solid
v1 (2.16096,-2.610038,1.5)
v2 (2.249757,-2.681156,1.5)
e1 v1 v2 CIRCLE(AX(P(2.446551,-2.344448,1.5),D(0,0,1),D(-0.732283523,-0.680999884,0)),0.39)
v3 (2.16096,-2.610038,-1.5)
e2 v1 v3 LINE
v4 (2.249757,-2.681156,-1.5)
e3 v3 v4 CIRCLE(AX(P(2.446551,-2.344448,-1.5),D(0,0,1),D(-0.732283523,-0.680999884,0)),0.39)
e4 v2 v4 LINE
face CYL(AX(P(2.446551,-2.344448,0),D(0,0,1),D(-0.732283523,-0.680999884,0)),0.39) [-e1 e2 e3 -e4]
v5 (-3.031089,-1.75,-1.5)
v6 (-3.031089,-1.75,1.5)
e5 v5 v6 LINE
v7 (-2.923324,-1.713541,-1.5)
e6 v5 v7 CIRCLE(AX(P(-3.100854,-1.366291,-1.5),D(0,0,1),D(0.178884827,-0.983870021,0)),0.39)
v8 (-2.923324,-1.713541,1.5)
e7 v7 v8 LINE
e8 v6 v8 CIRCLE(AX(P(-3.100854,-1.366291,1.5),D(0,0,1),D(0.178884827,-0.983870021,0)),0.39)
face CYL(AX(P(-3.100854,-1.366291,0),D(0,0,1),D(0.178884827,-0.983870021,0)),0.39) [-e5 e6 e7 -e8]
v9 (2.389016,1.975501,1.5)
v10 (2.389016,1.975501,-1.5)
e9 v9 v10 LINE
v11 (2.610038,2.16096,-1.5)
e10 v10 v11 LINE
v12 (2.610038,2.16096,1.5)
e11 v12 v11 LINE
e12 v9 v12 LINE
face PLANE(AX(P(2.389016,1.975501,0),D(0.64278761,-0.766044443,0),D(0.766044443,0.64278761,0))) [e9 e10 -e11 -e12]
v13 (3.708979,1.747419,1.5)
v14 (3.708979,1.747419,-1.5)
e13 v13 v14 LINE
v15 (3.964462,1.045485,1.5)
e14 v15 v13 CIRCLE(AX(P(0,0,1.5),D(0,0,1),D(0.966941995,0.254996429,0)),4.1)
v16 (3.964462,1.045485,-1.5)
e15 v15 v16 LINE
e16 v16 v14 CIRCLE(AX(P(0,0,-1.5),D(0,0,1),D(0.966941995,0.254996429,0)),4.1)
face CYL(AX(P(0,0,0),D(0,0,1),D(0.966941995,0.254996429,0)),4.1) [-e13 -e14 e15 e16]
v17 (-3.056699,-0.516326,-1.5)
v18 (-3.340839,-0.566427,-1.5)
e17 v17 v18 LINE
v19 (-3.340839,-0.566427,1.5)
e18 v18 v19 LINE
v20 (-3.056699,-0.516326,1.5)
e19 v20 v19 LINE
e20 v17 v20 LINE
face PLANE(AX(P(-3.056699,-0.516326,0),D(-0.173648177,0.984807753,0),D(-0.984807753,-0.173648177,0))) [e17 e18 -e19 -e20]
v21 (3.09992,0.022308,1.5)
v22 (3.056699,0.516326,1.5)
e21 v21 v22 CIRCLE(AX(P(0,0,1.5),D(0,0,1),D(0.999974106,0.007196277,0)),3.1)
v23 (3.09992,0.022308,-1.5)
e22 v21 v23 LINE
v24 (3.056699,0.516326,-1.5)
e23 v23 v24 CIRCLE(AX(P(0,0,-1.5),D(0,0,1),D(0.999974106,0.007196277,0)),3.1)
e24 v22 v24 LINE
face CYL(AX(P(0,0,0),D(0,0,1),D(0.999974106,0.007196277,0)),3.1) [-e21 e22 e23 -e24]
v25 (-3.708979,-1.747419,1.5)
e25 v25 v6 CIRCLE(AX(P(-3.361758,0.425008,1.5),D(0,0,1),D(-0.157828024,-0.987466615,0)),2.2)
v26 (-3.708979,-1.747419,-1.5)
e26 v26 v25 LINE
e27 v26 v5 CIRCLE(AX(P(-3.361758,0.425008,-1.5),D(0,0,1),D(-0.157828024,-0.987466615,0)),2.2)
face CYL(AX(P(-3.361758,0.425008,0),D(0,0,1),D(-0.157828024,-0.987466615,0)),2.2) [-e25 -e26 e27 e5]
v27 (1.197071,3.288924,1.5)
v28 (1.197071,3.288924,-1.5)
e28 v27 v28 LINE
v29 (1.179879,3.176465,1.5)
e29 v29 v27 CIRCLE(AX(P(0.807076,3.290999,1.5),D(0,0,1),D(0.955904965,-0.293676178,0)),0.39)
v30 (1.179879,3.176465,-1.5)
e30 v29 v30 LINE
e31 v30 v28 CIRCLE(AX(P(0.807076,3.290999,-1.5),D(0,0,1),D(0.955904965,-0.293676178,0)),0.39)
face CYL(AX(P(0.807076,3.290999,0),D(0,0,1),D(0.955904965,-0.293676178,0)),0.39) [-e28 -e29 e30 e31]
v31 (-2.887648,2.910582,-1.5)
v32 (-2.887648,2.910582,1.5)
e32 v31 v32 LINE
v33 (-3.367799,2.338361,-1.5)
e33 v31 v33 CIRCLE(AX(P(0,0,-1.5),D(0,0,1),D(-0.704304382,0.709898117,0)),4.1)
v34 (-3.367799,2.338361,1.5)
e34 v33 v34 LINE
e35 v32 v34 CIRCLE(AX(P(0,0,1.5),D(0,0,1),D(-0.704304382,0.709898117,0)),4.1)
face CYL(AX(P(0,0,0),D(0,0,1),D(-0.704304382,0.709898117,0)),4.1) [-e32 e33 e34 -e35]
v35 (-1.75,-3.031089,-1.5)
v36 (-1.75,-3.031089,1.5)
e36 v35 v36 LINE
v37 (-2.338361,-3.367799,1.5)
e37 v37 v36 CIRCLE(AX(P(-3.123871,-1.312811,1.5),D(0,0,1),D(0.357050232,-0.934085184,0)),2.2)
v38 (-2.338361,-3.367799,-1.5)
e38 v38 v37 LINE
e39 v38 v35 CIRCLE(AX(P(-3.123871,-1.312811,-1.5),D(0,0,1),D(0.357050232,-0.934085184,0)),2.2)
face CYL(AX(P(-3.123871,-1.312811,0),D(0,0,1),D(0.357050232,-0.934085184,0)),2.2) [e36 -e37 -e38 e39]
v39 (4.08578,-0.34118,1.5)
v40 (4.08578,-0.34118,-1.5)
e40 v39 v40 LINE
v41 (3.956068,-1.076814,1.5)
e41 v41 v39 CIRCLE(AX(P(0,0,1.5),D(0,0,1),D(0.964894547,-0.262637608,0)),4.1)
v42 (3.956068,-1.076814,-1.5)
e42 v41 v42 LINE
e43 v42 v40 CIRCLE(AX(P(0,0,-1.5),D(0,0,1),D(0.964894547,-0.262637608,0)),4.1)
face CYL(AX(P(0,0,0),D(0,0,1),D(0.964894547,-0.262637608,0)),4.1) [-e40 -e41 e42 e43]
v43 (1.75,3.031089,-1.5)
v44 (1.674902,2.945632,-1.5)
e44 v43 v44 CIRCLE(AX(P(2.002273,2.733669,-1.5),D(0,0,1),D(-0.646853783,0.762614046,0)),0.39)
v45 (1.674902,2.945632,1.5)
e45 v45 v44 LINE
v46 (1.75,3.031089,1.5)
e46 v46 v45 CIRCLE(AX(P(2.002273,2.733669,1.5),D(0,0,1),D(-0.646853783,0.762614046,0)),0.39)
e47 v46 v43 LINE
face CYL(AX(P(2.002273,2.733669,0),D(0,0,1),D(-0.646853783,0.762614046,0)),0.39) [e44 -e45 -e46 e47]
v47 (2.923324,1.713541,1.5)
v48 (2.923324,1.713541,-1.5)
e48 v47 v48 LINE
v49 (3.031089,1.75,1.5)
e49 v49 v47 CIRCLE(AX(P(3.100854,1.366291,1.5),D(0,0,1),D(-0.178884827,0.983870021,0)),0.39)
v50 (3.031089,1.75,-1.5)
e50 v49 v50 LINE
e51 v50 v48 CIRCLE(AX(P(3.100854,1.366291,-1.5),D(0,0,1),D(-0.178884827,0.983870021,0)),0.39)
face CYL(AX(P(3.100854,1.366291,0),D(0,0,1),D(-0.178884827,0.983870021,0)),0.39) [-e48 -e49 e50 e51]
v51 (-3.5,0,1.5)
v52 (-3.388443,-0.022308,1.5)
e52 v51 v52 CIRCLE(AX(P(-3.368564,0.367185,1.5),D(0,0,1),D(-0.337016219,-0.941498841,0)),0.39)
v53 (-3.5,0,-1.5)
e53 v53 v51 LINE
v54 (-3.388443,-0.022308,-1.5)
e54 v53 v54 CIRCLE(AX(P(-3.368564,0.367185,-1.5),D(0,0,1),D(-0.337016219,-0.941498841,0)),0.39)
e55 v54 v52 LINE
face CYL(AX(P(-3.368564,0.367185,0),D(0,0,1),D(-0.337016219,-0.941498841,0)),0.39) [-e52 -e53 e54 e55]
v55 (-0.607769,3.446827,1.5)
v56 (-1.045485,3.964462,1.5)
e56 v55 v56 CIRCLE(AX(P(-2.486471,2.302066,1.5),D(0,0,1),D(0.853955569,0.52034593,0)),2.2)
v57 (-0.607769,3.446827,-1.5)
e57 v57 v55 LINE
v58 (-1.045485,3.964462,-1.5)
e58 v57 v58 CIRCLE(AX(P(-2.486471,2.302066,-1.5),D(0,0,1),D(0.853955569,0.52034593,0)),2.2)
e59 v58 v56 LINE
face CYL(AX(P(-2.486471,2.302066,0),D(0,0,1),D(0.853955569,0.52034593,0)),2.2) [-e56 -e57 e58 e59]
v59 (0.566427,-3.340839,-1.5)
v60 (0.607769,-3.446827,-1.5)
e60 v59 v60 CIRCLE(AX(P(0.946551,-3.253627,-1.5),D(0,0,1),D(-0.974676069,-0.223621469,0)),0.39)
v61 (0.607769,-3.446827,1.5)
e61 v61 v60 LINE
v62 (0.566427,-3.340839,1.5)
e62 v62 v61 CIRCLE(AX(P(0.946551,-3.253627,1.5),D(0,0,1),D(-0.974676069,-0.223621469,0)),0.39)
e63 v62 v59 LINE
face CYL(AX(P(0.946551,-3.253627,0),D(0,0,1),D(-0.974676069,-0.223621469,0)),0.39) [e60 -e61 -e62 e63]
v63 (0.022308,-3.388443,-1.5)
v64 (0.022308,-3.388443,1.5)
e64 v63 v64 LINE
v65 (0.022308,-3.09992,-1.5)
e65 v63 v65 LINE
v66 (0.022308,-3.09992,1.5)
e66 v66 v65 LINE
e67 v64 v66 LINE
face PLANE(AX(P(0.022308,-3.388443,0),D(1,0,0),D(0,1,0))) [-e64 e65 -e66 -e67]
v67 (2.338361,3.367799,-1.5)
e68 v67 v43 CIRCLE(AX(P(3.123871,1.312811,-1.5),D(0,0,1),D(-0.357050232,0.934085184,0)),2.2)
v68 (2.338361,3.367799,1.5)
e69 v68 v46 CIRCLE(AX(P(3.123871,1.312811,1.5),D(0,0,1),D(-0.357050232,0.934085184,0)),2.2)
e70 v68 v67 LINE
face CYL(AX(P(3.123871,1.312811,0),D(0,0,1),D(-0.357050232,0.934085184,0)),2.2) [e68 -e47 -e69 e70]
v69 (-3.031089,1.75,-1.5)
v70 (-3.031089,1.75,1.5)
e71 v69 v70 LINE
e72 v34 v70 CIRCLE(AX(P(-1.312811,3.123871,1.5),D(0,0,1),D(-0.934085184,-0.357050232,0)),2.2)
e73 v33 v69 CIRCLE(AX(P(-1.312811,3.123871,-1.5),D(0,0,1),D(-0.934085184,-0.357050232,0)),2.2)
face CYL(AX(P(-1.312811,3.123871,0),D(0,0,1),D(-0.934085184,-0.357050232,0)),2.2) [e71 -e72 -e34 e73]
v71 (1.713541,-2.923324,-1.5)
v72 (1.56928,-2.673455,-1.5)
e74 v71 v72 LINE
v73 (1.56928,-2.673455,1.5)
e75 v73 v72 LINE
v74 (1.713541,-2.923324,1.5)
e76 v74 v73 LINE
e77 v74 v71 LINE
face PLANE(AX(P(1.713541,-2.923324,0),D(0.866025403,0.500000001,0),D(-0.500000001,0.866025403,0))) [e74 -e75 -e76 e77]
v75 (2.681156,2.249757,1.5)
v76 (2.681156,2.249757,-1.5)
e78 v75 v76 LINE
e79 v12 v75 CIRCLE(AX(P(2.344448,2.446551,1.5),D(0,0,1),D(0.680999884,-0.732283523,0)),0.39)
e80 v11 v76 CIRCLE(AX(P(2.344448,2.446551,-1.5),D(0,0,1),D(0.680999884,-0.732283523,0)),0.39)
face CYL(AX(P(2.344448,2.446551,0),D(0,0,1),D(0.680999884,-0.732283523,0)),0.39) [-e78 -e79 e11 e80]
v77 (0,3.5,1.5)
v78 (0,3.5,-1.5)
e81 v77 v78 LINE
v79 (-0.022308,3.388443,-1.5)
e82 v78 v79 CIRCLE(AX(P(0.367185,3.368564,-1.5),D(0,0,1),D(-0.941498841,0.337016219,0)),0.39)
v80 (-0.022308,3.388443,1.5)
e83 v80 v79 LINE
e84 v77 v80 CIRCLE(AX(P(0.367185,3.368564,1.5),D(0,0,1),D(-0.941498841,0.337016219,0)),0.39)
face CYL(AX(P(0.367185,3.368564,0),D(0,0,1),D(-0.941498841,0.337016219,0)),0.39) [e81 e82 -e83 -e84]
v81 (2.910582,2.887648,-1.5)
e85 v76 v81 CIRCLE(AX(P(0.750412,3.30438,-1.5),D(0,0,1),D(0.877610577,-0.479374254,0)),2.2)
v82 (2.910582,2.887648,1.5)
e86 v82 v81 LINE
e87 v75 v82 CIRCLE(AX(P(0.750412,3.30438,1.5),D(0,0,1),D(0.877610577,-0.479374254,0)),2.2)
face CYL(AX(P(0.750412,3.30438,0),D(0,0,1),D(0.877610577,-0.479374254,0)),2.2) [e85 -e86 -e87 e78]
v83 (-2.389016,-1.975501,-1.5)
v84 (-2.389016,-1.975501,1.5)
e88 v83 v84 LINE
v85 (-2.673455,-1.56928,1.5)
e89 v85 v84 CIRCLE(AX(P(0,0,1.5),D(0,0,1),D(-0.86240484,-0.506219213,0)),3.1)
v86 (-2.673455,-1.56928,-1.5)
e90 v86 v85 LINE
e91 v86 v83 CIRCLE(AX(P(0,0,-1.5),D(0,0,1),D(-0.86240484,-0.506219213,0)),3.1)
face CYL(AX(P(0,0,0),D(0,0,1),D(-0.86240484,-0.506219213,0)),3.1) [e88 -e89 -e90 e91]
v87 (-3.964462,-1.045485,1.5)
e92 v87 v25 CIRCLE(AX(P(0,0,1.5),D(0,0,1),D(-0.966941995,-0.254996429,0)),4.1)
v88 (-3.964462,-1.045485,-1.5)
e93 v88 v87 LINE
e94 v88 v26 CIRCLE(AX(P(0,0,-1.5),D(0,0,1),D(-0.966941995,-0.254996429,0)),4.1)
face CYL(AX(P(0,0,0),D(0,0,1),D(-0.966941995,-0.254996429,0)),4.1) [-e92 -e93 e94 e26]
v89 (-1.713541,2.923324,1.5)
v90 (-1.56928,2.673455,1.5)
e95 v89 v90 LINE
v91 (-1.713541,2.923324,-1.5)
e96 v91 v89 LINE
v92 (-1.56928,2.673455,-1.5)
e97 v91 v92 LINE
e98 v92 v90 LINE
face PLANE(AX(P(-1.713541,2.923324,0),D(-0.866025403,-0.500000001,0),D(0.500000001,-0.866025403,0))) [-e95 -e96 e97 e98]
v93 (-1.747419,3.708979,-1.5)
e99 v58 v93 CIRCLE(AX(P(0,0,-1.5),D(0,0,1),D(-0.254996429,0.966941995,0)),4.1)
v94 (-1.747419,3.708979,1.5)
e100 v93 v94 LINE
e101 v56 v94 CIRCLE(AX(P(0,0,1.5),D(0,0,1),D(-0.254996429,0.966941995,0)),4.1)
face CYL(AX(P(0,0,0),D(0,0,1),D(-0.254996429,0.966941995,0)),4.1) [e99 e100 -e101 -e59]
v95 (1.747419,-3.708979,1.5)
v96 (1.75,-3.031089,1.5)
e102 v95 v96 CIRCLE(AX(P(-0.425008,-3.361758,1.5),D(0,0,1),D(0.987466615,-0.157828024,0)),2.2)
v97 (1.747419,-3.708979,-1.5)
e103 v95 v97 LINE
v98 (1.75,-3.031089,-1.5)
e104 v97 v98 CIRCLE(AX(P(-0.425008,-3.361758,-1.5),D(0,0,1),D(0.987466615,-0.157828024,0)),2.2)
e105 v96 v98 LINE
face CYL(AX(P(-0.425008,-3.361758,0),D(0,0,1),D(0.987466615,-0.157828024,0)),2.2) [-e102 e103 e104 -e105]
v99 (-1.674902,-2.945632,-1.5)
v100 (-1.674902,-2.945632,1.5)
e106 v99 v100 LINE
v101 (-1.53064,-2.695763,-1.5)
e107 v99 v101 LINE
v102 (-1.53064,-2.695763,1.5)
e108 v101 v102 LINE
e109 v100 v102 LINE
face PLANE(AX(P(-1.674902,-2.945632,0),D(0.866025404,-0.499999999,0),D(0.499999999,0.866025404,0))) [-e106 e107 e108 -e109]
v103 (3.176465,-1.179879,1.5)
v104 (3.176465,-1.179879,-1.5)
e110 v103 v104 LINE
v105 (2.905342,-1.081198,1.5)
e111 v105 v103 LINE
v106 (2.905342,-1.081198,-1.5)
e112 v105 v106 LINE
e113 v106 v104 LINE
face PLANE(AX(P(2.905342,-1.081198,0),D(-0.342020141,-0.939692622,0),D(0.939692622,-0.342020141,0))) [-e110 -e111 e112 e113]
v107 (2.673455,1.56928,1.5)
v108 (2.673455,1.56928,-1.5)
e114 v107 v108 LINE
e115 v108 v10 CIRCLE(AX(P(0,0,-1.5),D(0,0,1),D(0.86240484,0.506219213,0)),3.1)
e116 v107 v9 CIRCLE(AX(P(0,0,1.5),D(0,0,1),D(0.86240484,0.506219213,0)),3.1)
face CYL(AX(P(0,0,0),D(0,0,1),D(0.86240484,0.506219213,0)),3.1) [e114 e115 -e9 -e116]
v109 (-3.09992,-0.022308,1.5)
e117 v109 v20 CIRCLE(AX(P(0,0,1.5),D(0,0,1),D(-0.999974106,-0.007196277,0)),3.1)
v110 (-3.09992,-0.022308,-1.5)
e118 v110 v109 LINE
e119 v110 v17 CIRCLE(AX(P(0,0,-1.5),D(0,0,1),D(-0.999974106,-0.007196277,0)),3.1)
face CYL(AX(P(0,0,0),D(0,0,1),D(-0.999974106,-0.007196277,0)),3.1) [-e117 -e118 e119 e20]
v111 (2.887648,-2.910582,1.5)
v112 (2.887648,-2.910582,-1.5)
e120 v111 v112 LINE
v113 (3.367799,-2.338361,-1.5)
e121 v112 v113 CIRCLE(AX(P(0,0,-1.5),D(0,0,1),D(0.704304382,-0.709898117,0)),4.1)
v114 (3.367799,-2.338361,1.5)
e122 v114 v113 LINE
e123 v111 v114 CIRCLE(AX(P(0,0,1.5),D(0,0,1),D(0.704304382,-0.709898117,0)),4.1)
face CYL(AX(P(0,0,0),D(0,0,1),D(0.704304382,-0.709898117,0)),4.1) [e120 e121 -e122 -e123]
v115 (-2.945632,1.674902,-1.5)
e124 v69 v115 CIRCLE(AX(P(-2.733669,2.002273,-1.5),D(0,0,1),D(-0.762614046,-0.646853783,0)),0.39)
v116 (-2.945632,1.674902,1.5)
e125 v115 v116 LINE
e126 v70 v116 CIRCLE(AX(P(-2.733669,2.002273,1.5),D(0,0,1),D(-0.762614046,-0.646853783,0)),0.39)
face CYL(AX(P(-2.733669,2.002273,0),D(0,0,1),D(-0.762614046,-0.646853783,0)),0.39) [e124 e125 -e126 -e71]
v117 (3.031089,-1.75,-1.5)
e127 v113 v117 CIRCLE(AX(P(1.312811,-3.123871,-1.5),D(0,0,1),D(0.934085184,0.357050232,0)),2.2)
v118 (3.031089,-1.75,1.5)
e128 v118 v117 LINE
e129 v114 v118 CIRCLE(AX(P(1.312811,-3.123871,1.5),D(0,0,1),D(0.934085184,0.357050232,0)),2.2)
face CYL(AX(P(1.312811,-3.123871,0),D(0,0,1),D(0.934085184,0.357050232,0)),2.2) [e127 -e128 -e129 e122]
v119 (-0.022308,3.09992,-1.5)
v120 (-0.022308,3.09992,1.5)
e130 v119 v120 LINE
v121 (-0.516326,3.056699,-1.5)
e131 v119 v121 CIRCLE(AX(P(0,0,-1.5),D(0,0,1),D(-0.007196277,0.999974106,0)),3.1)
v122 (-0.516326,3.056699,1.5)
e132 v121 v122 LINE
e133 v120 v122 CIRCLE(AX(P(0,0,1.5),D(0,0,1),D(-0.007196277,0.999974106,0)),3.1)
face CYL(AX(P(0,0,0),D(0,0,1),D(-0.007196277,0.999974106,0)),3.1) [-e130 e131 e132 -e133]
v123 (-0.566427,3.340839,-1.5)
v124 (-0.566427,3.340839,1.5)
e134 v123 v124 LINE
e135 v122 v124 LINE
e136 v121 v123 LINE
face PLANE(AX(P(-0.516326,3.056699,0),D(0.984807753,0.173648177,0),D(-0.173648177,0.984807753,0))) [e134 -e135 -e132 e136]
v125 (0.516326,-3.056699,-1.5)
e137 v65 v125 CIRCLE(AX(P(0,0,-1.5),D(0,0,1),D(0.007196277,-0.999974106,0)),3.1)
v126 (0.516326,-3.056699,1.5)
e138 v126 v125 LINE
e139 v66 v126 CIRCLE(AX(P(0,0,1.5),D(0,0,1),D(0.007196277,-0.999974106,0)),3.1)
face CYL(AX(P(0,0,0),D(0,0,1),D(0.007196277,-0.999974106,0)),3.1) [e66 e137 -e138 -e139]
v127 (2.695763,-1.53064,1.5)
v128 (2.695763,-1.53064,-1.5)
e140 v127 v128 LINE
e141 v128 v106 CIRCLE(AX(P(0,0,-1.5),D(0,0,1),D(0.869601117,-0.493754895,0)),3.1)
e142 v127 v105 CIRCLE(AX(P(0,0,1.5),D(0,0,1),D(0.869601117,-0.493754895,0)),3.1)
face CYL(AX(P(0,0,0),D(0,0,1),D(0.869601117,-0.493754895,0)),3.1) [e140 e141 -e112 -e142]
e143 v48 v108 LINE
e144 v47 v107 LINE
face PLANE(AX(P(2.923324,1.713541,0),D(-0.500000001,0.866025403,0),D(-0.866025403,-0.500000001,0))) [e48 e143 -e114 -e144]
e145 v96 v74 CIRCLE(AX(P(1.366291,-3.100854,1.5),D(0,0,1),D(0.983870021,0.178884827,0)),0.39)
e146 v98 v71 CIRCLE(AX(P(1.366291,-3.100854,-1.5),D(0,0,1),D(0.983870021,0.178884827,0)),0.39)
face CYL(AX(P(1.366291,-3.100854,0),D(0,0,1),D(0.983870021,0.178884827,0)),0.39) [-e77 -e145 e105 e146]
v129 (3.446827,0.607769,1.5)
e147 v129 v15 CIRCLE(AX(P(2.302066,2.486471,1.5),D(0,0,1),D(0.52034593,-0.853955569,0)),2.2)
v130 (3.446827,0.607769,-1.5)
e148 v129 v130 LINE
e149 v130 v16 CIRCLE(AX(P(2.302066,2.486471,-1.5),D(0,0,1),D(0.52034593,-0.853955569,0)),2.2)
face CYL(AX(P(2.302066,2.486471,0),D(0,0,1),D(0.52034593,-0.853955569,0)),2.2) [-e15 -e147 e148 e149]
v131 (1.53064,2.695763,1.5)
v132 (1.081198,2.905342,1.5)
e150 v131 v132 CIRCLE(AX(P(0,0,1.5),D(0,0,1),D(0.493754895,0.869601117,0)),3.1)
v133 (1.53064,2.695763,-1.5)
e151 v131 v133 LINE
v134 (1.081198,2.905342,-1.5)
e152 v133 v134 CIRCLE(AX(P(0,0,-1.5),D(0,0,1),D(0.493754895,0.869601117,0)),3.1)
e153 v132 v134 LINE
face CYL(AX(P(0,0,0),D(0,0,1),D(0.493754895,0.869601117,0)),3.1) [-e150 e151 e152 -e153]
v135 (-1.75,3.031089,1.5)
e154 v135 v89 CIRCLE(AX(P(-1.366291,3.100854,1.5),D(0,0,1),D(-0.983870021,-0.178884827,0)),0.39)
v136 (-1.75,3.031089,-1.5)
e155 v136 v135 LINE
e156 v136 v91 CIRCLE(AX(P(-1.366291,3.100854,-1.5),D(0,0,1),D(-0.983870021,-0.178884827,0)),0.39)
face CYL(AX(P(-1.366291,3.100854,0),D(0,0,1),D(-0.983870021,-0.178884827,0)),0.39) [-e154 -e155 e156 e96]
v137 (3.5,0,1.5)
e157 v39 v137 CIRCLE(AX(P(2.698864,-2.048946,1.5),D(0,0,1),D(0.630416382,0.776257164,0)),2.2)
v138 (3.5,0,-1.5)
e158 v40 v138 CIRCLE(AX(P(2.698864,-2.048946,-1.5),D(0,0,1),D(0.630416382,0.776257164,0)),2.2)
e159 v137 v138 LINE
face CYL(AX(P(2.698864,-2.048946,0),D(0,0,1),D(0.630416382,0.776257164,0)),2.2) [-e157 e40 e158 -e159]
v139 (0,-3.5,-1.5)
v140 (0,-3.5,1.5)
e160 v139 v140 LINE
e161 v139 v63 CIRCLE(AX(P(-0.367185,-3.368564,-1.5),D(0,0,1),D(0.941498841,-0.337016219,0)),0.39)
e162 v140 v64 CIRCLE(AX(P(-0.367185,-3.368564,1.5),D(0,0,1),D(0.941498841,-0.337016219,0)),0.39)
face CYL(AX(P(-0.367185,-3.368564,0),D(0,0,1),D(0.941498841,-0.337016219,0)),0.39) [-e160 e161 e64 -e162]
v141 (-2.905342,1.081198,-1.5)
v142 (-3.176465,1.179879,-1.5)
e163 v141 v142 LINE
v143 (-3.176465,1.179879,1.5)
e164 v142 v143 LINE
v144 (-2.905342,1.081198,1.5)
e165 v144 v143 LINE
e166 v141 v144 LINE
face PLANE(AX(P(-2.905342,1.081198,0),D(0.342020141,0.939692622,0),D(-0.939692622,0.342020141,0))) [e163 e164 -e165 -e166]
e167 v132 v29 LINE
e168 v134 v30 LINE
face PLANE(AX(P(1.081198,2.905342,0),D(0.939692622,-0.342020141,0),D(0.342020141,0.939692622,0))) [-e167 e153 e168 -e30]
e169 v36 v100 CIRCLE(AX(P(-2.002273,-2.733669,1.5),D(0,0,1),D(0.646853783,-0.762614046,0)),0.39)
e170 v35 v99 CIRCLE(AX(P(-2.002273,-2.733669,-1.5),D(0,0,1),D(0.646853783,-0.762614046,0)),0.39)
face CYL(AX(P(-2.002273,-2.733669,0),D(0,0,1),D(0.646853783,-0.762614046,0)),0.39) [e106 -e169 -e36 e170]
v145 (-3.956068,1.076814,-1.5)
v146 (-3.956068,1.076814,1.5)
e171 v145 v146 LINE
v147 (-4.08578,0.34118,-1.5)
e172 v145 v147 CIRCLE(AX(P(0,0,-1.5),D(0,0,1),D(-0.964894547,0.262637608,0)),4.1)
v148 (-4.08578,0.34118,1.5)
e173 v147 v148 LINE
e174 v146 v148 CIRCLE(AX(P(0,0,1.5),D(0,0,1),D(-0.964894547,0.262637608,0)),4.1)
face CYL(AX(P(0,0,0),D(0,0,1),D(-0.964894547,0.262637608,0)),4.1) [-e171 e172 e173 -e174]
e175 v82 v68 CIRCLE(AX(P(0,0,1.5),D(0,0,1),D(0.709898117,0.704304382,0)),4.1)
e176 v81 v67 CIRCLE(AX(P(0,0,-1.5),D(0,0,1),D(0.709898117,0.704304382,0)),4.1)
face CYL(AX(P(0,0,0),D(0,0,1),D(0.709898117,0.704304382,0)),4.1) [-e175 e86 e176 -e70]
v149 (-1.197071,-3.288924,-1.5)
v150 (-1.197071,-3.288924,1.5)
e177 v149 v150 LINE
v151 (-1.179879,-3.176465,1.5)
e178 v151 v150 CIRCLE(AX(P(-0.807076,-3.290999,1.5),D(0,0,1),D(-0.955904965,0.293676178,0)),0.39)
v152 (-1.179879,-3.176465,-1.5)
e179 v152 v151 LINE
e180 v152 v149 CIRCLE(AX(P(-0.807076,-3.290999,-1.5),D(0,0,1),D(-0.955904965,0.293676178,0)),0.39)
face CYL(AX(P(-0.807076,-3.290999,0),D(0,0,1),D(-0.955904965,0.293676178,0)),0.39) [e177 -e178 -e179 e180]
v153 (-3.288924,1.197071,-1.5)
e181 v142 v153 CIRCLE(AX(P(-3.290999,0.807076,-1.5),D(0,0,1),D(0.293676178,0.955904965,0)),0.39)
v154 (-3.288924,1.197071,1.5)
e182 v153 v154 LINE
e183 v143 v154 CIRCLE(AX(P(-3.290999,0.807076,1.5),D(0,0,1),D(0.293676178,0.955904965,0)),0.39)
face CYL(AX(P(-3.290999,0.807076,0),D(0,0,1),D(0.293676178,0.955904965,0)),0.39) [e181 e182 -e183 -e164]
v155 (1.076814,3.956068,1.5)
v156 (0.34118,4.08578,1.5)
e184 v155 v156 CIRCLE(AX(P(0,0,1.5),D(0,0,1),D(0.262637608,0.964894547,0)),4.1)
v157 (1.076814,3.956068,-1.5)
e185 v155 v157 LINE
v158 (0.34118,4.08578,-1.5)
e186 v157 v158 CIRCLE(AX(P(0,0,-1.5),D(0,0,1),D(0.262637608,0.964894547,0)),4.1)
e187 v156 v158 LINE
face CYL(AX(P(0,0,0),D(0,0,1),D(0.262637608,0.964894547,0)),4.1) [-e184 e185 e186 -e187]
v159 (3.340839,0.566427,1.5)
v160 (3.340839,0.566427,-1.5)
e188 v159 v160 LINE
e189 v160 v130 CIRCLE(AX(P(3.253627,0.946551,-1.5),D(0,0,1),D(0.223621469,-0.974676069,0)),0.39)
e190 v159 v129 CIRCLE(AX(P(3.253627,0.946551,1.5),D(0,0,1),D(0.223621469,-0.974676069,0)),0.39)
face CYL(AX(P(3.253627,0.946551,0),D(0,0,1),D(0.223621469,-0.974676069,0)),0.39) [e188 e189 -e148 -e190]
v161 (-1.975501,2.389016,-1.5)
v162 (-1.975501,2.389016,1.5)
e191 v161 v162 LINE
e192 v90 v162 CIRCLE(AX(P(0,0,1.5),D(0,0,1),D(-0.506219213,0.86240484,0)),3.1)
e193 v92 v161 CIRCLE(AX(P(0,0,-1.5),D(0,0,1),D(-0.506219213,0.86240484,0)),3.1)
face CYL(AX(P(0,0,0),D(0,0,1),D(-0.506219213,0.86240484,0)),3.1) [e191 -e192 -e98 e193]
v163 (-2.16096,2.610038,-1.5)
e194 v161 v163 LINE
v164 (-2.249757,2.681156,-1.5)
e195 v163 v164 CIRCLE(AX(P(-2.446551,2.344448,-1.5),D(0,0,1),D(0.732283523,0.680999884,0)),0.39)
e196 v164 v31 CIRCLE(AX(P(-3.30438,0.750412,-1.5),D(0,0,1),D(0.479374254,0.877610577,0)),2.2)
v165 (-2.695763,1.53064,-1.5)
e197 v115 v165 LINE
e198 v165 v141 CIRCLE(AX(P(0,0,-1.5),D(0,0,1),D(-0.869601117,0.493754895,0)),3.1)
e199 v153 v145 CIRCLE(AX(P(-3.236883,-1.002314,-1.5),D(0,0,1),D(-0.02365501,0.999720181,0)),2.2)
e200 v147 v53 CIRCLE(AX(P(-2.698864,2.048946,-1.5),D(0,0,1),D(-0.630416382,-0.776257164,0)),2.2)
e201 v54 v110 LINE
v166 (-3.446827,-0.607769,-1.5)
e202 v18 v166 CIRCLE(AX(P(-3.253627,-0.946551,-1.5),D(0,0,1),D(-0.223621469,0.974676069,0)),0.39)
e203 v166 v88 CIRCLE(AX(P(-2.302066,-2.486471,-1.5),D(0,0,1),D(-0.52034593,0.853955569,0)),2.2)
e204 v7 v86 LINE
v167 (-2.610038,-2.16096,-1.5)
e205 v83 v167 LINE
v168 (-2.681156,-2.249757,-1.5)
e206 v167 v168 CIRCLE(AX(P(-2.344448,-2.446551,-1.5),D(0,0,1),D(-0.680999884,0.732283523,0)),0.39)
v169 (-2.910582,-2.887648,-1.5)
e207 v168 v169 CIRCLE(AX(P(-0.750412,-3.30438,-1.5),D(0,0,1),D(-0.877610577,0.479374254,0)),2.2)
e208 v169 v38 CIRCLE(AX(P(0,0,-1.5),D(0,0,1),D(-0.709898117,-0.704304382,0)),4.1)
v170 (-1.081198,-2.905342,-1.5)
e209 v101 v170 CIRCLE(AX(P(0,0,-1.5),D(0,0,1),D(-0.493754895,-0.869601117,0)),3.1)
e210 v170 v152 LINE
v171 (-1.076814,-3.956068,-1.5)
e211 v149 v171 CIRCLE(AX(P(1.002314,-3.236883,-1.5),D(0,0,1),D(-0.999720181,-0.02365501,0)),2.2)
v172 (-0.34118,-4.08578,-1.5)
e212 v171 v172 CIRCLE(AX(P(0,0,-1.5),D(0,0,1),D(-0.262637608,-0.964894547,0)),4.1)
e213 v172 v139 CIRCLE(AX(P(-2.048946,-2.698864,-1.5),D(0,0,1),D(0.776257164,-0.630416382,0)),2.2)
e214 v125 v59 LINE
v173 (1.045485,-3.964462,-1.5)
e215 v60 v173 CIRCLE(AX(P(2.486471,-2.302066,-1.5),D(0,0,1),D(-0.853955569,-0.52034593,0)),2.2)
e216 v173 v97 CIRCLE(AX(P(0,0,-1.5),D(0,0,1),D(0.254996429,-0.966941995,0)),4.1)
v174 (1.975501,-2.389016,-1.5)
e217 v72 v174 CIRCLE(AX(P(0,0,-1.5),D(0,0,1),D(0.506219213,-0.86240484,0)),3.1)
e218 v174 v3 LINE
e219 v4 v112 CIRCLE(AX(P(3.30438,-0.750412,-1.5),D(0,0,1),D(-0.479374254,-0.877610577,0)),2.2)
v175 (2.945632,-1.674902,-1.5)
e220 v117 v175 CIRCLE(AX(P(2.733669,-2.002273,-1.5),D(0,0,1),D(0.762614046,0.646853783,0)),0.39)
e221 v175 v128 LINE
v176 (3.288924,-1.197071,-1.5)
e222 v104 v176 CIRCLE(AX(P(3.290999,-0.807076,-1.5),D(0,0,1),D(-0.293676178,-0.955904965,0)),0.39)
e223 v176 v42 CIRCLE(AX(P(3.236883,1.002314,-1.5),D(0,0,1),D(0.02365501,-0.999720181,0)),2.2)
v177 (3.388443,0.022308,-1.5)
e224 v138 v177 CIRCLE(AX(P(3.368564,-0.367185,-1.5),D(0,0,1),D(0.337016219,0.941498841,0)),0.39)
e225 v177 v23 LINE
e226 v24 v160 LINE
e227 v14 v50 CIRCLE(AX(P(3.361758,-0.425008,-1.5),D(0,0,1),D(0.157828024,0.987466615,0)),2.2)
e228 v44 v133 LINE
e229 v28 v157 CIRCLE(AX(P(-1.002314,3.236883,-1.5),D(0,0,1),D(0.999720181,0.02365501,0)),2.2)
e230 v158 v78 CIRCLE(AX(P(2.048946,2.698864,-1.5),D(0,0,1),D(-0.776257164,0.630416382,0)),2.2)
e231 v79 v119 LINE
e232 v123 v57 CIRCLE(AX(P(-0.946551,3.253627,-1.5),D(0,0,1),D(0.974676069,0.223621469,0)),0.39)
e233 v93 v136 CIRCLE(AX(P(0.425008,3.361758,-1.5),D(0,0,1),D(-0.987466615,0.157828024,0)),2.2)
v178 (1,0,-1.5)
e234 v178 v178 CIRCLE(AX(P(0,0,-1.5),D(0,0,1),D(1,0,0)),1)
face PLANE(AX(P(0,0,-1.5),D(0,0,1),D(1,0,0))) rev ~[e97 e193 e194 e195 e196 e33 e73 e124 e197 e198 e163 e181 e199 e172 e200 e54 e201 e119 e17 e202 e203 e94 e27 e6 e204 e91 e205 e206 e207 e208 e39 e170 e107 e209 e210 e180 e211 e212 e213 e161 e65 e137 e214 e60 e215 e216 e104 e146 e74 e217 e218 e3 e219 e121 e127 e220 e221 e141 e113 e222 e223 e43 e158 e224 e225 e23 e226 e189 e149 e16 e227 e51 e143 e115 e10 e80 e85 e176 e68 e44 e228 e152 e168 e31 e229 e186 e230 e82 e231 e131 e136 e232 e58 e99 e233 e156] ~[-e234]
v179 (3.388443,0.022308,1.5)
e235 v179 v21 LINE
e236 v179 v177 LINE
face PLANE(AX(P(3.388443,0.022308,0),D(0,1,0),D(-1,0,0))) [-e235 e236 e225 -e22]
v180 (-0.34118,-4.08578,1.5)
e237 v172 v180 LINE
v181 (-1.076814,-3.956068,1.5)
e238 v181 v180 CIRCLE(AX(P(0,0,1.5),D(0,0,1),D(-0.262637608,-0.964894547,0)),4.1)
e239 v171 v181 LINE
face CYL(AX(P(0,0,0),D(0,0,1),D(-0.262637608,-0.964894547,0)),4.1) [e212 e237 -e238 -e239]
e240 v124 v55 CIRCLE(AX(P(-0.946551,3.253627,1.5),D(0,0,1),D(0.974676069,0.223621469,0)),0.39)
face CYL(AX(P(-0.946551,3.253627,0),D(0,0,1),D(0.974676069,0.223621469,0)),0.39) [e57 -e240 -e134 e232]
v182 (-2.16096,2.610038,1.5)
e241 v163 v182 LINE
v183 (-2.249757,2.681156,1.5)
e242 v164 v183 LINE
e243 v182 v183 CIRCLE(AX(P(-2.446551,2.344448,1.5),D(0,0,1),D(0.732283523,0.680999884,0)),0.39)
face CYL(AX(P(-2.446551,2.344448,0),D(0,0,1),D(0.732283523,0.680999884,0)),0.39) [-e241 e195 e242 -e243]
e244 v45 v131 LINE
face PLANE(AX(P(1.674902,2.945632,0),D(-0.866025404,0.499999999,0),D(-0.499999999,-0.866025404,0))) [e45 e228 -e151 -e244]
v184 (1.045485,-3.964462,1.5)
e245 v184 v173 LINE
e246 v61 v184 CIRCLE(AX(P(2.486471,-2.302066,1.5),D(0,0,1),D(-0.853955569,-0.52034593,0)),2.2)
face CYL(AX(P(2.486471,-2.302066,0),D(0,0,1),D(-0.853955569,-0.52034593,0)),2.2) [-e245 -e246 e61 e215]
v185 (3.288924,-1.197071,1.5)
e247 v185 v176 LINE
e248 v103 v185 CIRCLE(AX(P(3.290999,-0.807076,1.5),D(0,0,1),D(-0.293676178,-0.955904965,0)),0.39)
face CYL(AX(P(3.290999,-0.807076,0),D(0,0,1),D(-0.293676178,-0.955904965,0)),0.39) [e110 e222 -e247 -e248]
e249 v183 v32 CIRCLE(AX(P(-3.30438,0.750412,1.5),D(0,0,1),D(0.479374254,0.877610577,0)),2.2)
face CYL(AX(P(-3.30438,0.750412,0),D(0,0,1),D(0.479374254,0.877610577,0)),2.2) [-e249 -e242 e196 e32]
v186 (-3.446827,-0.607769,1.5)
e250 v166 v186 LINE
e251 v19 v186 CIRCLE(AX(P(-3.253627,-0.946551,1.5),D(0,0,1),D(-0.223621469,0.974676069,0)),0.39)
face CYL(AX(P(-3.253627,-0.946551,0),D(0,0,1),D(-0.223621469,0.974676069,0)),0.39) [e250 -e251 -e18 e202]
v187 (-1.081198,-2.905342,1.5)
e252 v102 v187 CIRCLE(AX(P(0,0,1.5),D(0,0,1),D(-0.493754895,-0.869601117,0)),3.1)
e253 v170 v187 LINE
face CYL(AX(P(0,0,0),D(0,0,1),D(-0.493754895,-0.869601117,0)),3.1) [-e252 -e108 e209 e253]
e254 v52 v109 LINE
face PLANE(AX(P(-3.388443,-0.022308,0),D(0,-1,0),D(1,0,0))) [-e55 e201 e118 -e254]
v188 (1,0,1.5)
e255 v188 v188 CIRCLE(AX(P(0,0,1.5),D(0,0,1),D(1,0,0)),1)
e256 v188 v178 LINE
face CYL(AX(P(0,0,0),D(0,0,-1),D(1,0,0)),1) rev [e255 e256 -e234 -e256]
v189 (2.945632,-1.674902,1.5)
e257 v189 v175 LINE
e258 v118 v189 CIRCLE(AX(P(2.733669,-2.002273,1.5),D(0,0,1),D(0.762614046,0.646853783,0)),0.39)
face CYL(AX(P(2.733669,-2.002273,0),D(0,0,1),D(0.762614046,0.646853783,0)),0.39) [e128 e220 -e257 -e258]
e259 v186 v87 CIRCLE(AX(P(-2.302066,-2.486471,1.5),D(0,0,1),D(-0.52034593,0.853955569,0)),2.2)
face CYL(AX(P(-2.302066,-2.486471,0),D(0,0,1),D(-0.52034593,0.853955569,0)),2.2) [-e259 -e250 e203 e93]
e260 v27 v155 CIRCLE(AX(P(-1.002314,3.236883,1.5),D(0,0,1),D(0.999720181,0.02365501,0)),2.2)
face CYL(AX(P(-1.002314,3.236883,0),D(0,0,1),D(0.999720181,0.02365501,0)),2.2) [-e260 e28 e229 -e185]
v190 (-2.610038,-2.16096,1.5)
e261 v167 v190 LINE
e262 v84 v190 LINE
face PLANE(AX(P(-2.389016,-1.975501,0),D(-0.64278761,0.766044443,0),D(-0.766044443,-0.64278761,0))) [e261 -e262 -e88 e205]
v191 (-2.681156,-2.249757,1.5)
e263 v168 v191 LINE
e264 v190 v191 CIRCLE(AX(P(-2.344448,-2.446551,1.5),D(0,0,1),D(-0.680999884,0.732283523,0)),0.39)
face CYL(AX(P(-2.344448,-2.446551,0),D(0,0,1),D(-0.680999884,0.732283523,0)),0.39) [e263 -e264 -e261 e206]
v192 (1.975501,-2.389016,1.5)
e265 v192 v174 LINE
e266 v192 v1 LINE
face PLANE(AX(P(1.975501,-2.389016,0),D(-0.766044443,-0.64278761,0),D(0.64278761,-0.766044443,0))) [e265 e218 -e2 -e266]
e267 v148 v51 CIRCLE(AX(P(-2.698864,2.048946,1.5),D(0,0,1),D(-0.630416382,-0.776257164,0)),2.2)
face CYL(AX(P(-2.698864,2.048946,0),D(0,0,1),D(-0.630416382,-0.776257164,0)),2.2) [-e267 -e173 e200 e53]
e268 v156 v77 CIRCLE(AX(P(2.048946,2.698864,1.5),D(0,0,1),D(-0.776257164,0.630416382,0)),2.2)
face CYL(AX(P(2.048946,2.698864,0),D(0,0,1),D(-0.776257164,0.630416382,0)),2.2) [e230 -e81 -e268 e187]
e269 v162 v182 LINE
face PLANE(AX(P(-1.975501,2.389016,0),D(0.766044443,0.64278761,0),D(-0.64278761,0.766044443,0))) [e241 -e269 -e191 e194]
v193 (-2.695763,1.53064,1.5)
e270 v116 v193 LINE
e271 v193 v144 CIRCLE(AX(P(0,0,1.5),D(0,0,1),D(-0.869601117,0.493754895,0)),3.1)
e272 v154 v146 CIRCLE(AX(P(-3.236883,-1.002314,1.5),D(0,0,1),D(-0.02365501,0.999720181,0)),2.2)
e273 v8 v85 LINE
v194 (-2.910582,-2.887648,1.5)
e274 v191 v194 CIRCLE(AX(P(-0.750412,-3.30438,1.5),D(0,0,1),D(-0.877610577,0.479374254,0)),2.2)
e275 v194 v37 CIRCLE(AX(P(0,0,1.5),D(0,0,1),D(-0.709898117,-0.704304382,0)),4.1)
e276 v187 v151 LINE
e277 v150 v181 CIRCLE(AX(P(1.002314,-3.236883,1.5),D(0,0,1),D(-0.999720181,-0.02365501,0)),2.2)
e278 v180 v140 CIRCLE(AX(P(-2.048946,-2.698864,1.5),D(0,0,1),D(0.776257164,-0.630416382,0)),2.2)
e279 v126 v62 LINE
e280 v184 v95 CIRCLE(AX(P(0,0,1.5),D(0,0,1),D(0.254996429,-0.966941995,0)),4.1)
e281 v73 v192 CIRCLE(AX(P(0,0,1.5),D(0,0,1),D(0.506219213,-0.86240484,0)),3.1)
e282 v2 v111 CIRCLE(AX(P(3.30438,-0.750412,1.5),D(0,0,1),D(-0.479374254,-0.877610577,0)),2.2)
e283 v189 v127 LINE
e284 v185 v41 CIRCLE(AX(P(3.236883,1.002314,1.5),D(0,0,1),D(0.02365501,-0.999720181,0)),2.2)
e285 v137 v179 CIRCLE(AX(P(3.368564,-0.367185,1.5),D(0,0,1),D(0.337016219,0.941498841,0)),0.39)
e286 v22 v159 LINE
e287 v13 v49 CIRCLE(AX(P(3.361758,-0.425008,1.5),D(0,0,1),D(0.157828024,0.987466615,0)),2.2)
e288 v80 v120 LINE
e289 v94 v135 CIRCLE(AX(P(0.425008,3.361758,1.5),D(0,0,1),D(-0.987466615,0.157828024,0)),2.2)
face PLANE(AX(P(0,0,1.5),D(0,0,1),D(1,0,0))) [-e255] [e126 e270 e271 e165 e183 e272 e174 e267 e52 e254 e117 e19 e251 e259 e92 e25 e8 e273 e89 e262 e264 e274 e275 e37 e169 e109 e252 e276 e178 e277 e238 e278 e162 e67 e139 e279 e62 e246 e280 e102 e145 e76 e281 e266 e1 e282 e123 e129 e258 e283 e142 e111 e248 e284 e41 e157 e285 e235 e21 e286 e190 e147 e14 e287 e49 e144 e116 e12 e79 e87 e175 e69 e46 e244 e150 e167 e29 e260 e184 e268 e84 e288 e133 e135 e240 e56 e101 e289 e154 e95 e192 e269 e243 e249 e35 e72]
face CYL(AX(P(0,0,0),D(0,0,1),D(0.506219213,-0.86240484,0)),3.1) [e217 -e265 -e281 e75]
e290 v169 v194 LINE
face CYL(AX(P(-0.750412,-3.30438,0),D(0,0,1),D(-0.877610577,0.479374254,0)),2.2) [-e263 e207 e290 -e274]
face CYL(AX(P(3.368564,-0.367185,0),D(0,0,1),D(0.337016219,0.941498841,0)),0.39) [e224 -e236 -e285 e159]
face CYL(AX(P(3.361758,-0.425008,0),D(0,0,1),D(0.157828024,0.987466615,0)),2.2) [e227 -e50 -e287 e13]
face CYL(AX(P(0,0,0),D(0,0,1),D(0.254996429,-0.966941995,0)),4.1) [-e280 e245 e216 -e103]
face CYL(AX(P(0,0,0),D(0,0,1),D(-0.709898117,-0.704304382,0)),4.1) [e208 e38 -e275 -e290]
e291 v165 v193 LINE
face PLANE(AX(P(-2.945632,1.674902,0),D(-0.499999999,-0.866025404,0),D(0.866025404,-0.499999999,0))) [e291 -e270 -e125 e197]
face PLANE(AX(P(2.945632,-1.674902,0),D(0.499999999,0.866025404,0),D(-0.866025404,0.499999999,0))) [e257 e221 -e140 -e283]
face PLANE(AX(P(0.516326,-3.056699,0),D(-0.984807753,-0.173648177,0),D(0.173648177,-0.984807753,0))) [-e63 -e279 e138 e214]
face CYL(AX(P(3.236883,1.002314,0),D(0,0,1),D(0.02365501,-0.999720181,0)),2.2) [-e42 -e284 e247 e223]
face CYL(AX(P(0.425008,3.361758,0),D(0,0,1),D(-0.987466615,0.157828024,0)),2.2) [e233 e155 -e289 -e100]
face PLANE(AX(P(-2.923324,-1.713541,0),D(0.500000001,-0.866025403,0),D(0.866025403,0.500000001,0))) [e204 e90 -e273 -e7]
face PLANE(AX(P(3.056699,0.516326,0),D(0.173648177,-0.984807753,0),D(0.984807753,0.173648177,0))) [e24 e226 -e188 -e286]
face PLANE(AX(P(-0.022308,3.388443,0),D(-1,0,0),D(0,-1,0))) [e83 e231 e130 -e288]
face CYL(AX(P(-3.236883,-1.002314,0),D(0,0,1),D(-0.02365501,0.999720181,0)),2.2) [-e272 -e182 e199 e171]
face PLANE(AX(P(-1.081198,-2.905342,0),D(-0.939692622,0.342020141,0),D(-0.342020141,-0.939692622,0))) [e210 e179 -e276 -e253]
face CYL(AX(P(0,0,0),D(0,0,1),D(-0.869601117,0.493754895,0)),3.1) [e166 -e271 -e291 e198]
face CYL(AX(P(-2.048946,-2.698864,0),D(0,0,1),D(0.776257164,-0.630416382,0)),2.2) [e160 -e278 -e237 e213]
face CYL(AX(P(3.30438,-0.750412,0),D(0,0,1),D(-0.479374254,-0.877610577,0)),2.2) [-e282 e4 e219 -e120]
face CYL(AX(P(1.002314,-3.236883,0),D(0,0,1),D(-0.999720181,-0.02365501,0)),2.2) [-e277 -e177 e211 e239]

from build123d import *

# Parameters (mm, degrees)
SKETCH1_R           = 1
BOSS_EXTRUDE1_DEPTH = 1.5


with BuildPart() as part:
    # Sketch1 → Boss-Extrude1 (new, symmetric)
    with BuildSketch(Plane.XY):
        with BuildLine():
            Line((-0.022308457, 3.388443306), (-0.022308457, 3.09991973))
            ThreePointArc((-0.022308457, 3.09991973), (-0.270182803, 3.088203564), (-0.516325871, 3.056698807))
            Line((-0.516325871, 3.056698807), (-0.566427464, 3.340839061))
            ThreePointArc((-0.566427464, 3.340839061), (-0.583212597, 3.395348635), (-0.607768622, 3.446827136))
            ThreePointArc((-0.607768622, 3.446827136), (-0.806569619, 3.722605346), (-1.04548536, 3.964462178))
            ThreePointArc((-1.04548536, 3.964462178), (-1.402282588, 3.852739745), (-1.747418917, 3.708979257))
            ThreePointArc((-1.747418917, 3.708979257), (-1.774976418, 3.370134097), (-1.75, 3.031088913))
            ThreePointArc((-1.75, 3.031088913), (-1.735721264, 2.975869786), (-1.713541343, 2.923323754))
            Line((-1.713541343, 2.923323754), (-1.569279555, 2.673455008))
            ThreePointArc((-1.569279555, 2.673455008), (-1.778086953, 2.539371337), (-1.975500724, 2.389015883))
            Line((-1.975500724, 2.389015883), (-2.160960104, 2.610037765))
            ThreePointArc((-2.160960104, 2.610037765), (-2.202751242, 2.648851875), (-2.249756634, 2.681155551))
            ThreePointArc((-2.249756634, 2.681155551), (-2.559812453, 2.820585989), (-2.88764797, 2.910582279))
            ThreePointArc((-2.88764797, 2.910582279), (-3.140782217, 2.6354292), (-3.367798802, 2.3383608))
            ThreePointArc((-3.367798802, 2.3383608), (-3.222241717, 2.031133533), (-3.031088913, 1.75))
            ThreePointArc((-3.031088913, 1.75), (-2.991113602, 1.7093182), (-2.945632211, 1.674901963))
            Line((-2.945632211, 1.674901963), (-2.695763464, 1.530640175))
            ThreePointArc((-2.695763464, 1.530640175), (-2.80955414, 1.310116611), (-2.905341754, 1.081198083))
            Line((-2.905341754, 1.081198083), (-3.176465229, 1.179878957))
            ThreePointArc((-3.176465229, 1.179878957), (-3.232064471, 1.192597393), (-3.288924173, 1.197070502))
            ThreePointArc((-3.288924173, 1.197070502), (-3.627155608, 1.162792893), (-3.956067639, 1.076814208))
            ThreePointArc((-3.956067639, 1.076814208), (-4.037711787, 0.711957528), (-4.085779717, 0.341180455))
            ThreePointArc((-4.085779717, 0.341180455), (-3.806109951, 0.14789238), (-3.5, 0))
            ThreePointArc((-3.5, 0), (-3.445039465, -0.015243816), (-3.388443306, -0.022308457))
            Line((-3.388443306, -0.022308457), (-3.09991973, -0.022308457))
            ThreePointArc((-3.09991973, -0.022308457), (-3.088203564, -0.270182803), (-3.056698807, -0.516325871))
            Line((-3.056698807, -0.516325871), (-3.340839061, -0.566427464))
            ThreePointArc((-3.340839061, -0.566427464), (-3.395348635, -0.583212597), (-3.446827136, -0.607768622))
            ThreePointArc((-3.446827136, -0.607768622), (-3.722605346, -0.806569619), (-3.964462178, -1.04548536))
            ThreePointArc((-3.964462178, -1.04548536), (-3.852739745, -1.402282588), (-3.708979257, -1.747418917))
            ThreePointArc((-3.708979257, -1.747418917), (-3.370134097, -1.774976418), (-3.031088913, -1.75))
            ThreePointArc((-3.031088913, -1.75), (-2.975869786, -1.735721264), (-2.923323754, -1.713541343))
            Line((-2.923323754, -1.713541343), (-2.673455008, -1.569279555))
            ThreePointArc((-2.673455008, -1.569279555), (-2.539371337, -1.778086953), (-2.389015883, -1.975500724))
            Line((-2.389015883, -1.975500724), (-2.610037765, -2.160960104))
            ThreePointArc((-2.610037765, -2.160960104), (-2.648851875, -2.202751242), (-2.681155551, -2.249756634))
            ThreePointArc((-2.681155551, -2.249756634), (-2.820585989, -2.559812453), (-2.910582279, -2.88764797))
            ThreePointArc((-2.910582279, -2.88764797), (-2.6354292, -3.140782217), (-2.3383608, -3.367798802))
            ThreePointArc((-2.3383608, -3.367798802), (-2.031133533, -3.222241717), (-1.75, -3.031088913))
            ThreePointArc((-1.75, -3.031088913), (-1.7093182, -2.991113602), (-1.674901963, -2.945632211))
            Line((-1.674901963, -2.945632211), (-1.530640175, -2.695763464))
            ThreePointArc((-1.530640175, -2.695763464), (-1.310116611, -2.80955414), (-1.081198083, -2.905341754))
            Line((-1.081198083, -2.905341754), (-1.179878957, -3.176465229))
            ThreePointArc((-1.179878957, -3.176465229), (-1.192597393, -3.232064471), (-1.197070502, -3.288924173))
            ThreePointArc((-1.197070502, -3.288924173), (-1.162792893, -3.627155608), (-1.076814208, -3.956067639))
            ThreePointArc((-1.076814208, -3.956067639), (-0.711957528, -4.037711787), (-0.341180455, -4.085779717))
            ThreePointArc((-0.341180455, -4.085779717), (-0.14789238, -3.806109951), (0, -3.5))
            ThreePointArc((0, -3.5), (0.015243816, -3.445039465), (0.022308457, -3.388443306))
            Line((0.022308457, -3.388443306), (0.022308457, -3.09991973))
            ThreePointArc((0.022308457, -3.09991973), (0.270182803, -3.088203564), (0.516325871, -3.056698807))
            Line((0.516325871, -3.056698807), (0.566427464, -3.340839061))
            ThreePointArc((0.566427464, -3.340839061), (0.583212597, -3.395348635), (0.607768622, -3.446827136))
            ThreePointArc((0.607768622, -3.446827136), (0.806569619, -3.722605346), (1.04548536, -3.964462178))
            ThreePointArc((1.04548536, -3.964462178), (1.402282588, -3.852739745), (1.747418917, -3.708979257))
            ThreePointArc((1.747418917, -3.708979257), (1.774976418, -3.370134097), (1.75, -3.031088913))
            ThreePointArc((1.75, -3.031088913), (1.735721264, -2.975869786), (1.713541343, -2.923323754))
            Line((1.713541343, -2.923323754), (1.569279555, -2.673455008))
            ThreePointArc((1.569279555, -2.673455008), (1.778086953, -2.539371337), (1.975500724, -2.389015883))
            Line((1.975500724, -2.389015883), (2.160960104, -2.610037765))
            ThreePointArc((2.160960104, -2.610037765), (2.202751242, -2.648851875), (2.249756634, -2.681155551))
            ThreePointArc((2.249756634, -2.681155551), (2.559812453, -2.820585989), (2.88764797, -2.910582279))
            ThreePointArc((2.88764797, -2.910582279), (3.140782217, -2.6354292), (3.367798802, -2.3383608))
            ThreePointArc((3.367798802, -2.3383608), (3.222241717, -2.031133533), (3.031088913, -1.75))
            ThreePointArc((3.031088913, -1.75), (2.991113602, -1.7093182), (2.945632211, -1.674901963))
            Line((2.945632211, -1.674901963), (2.695763464, -1.530640175))
            ThreePointArc((2.695763464, -1.530640175), (2.80955414, -1.310116611), (2.905341754, -1.081198083))
            Line((2.905341754, -1.081198083), (3.176465229, -1.179878957))
            ThreePointArc((3.176465229, -1.179878957), (3.232064471, -1.192597393), (3.288924173, -1.197070502))
            ThreePointArc((3.288924173, -1.197070502), (3.627155608, -1.162792893), (3.956067639, -1.076814208))
            ThreePointArc((3.956067639, -1.076814208), (4.037711787, -0.711957528), (4.085779717, -0.341180455))
            ThreePointArc((4.085779717, -0.341180455), (3.806109951, -0.14789238), (3.5, 0))
            ThreePointArc((3.5, 0), (3.445039465, 0.015243816), (3.388443306, 0.022308457))
            Line((3.388443306, 0.022308457), (3.09991973, 0.022308457))
            ThreePointArc((3.09991973, 0.022308457), (3.088203564, 0.270182803), (3.056698807, 0.516325871))
            Line((3.056698807, 0.516325871), (3.340839061, 0.566427464))
            ThreePointArc((3.340839061, 0.566427464), (3.395348635, 0.583212597), (3.446827136, 0.607768622))
            ThreePointArc((3.446827136, 0.607768622), (3.722605346, 0.806569619), (3.964462178, 1.04548536))
            ThreePointArc((3.964462178, 1.04548536), (3.852739745, 1.402282588), (3.708979257, 1.747418917))
            ThreePointArc((3.708979257, 1.747418917), (3.370134097, 1.774976418), (3.031088913, 1.75))
            ThreePointArc((3.031088913, 1.75), (2.975869786, 1.735721264), (2.923323754, 1.713541343))
            Line((2.923323754, 1.713541343), (2.673455008, 1.569279555))
            ThreePointArc((2.673455008, 1.569279555), (2.539371337, 1.778086953), (2.389015883, 1.975500724))
            Line((2.389015883, 1.975500724), (2.610037765, 2.160960104))
            ThreePointArc((2.610037765, 2.160960104), (2.648851875, 2.202751242), (2.681155551, 2.249756634))
            ThreePointArc((2.681155551, 2.249756634), (2.820585989, 2.559812453), (2.910582279, 2.88764797))
            ThreePointArc((2.910582279, 2.88764797), (2.6354292, 3.140782217), (2.3383608, 3.367798802))
            ThreePointArc((2.3383608, 3.367798802), (2.031133533, 3.222241717), (1.75, 3.031088913))
            ThreePointArc((1.75, 3.031088913), (1.7093182, 2.991113602), (1.674901963, 2.945632211))
            Line((1.674901963, 2.945632211), (1.530640175, 2.695763464))
            ThreePointArc((1.530640175, 2.695763464), (1.310116611, 2.80955414), (1.081198083, 2.905341754))
            Line((1.081198083, 2.905341754), (1.179878957, 3.176465229))
            ThreePointArc((1.179878957, 3.176465229), (1.192597393, 3.232064471), (1.197070502, 3.288924173))
            ThreePointArc((1.197070502, 3.288924173), (1.162792893, 3.627155608), (1.076814208, 3.956067639))
            ThreePointArc((1.076814208, 3.956067639), (0.711957528, 4.037711787), (0.341180455, 4.085779717))
            ThreePointArc((0.341180455, 4.085779717), (0.14789238, 3.806109951), (0, 3.5))
            ThreePointArc((0, 3.5), (-0.015243816, 3.445039465), (-0.022308457, 3.388443306))
        make_face()
        Circle(SKETCH1_R, mode=Mode.SUBTRACT)
    extrude(amount=BOSS_EXTRUDE1_DEPTH, both=True)


solid = part.part
